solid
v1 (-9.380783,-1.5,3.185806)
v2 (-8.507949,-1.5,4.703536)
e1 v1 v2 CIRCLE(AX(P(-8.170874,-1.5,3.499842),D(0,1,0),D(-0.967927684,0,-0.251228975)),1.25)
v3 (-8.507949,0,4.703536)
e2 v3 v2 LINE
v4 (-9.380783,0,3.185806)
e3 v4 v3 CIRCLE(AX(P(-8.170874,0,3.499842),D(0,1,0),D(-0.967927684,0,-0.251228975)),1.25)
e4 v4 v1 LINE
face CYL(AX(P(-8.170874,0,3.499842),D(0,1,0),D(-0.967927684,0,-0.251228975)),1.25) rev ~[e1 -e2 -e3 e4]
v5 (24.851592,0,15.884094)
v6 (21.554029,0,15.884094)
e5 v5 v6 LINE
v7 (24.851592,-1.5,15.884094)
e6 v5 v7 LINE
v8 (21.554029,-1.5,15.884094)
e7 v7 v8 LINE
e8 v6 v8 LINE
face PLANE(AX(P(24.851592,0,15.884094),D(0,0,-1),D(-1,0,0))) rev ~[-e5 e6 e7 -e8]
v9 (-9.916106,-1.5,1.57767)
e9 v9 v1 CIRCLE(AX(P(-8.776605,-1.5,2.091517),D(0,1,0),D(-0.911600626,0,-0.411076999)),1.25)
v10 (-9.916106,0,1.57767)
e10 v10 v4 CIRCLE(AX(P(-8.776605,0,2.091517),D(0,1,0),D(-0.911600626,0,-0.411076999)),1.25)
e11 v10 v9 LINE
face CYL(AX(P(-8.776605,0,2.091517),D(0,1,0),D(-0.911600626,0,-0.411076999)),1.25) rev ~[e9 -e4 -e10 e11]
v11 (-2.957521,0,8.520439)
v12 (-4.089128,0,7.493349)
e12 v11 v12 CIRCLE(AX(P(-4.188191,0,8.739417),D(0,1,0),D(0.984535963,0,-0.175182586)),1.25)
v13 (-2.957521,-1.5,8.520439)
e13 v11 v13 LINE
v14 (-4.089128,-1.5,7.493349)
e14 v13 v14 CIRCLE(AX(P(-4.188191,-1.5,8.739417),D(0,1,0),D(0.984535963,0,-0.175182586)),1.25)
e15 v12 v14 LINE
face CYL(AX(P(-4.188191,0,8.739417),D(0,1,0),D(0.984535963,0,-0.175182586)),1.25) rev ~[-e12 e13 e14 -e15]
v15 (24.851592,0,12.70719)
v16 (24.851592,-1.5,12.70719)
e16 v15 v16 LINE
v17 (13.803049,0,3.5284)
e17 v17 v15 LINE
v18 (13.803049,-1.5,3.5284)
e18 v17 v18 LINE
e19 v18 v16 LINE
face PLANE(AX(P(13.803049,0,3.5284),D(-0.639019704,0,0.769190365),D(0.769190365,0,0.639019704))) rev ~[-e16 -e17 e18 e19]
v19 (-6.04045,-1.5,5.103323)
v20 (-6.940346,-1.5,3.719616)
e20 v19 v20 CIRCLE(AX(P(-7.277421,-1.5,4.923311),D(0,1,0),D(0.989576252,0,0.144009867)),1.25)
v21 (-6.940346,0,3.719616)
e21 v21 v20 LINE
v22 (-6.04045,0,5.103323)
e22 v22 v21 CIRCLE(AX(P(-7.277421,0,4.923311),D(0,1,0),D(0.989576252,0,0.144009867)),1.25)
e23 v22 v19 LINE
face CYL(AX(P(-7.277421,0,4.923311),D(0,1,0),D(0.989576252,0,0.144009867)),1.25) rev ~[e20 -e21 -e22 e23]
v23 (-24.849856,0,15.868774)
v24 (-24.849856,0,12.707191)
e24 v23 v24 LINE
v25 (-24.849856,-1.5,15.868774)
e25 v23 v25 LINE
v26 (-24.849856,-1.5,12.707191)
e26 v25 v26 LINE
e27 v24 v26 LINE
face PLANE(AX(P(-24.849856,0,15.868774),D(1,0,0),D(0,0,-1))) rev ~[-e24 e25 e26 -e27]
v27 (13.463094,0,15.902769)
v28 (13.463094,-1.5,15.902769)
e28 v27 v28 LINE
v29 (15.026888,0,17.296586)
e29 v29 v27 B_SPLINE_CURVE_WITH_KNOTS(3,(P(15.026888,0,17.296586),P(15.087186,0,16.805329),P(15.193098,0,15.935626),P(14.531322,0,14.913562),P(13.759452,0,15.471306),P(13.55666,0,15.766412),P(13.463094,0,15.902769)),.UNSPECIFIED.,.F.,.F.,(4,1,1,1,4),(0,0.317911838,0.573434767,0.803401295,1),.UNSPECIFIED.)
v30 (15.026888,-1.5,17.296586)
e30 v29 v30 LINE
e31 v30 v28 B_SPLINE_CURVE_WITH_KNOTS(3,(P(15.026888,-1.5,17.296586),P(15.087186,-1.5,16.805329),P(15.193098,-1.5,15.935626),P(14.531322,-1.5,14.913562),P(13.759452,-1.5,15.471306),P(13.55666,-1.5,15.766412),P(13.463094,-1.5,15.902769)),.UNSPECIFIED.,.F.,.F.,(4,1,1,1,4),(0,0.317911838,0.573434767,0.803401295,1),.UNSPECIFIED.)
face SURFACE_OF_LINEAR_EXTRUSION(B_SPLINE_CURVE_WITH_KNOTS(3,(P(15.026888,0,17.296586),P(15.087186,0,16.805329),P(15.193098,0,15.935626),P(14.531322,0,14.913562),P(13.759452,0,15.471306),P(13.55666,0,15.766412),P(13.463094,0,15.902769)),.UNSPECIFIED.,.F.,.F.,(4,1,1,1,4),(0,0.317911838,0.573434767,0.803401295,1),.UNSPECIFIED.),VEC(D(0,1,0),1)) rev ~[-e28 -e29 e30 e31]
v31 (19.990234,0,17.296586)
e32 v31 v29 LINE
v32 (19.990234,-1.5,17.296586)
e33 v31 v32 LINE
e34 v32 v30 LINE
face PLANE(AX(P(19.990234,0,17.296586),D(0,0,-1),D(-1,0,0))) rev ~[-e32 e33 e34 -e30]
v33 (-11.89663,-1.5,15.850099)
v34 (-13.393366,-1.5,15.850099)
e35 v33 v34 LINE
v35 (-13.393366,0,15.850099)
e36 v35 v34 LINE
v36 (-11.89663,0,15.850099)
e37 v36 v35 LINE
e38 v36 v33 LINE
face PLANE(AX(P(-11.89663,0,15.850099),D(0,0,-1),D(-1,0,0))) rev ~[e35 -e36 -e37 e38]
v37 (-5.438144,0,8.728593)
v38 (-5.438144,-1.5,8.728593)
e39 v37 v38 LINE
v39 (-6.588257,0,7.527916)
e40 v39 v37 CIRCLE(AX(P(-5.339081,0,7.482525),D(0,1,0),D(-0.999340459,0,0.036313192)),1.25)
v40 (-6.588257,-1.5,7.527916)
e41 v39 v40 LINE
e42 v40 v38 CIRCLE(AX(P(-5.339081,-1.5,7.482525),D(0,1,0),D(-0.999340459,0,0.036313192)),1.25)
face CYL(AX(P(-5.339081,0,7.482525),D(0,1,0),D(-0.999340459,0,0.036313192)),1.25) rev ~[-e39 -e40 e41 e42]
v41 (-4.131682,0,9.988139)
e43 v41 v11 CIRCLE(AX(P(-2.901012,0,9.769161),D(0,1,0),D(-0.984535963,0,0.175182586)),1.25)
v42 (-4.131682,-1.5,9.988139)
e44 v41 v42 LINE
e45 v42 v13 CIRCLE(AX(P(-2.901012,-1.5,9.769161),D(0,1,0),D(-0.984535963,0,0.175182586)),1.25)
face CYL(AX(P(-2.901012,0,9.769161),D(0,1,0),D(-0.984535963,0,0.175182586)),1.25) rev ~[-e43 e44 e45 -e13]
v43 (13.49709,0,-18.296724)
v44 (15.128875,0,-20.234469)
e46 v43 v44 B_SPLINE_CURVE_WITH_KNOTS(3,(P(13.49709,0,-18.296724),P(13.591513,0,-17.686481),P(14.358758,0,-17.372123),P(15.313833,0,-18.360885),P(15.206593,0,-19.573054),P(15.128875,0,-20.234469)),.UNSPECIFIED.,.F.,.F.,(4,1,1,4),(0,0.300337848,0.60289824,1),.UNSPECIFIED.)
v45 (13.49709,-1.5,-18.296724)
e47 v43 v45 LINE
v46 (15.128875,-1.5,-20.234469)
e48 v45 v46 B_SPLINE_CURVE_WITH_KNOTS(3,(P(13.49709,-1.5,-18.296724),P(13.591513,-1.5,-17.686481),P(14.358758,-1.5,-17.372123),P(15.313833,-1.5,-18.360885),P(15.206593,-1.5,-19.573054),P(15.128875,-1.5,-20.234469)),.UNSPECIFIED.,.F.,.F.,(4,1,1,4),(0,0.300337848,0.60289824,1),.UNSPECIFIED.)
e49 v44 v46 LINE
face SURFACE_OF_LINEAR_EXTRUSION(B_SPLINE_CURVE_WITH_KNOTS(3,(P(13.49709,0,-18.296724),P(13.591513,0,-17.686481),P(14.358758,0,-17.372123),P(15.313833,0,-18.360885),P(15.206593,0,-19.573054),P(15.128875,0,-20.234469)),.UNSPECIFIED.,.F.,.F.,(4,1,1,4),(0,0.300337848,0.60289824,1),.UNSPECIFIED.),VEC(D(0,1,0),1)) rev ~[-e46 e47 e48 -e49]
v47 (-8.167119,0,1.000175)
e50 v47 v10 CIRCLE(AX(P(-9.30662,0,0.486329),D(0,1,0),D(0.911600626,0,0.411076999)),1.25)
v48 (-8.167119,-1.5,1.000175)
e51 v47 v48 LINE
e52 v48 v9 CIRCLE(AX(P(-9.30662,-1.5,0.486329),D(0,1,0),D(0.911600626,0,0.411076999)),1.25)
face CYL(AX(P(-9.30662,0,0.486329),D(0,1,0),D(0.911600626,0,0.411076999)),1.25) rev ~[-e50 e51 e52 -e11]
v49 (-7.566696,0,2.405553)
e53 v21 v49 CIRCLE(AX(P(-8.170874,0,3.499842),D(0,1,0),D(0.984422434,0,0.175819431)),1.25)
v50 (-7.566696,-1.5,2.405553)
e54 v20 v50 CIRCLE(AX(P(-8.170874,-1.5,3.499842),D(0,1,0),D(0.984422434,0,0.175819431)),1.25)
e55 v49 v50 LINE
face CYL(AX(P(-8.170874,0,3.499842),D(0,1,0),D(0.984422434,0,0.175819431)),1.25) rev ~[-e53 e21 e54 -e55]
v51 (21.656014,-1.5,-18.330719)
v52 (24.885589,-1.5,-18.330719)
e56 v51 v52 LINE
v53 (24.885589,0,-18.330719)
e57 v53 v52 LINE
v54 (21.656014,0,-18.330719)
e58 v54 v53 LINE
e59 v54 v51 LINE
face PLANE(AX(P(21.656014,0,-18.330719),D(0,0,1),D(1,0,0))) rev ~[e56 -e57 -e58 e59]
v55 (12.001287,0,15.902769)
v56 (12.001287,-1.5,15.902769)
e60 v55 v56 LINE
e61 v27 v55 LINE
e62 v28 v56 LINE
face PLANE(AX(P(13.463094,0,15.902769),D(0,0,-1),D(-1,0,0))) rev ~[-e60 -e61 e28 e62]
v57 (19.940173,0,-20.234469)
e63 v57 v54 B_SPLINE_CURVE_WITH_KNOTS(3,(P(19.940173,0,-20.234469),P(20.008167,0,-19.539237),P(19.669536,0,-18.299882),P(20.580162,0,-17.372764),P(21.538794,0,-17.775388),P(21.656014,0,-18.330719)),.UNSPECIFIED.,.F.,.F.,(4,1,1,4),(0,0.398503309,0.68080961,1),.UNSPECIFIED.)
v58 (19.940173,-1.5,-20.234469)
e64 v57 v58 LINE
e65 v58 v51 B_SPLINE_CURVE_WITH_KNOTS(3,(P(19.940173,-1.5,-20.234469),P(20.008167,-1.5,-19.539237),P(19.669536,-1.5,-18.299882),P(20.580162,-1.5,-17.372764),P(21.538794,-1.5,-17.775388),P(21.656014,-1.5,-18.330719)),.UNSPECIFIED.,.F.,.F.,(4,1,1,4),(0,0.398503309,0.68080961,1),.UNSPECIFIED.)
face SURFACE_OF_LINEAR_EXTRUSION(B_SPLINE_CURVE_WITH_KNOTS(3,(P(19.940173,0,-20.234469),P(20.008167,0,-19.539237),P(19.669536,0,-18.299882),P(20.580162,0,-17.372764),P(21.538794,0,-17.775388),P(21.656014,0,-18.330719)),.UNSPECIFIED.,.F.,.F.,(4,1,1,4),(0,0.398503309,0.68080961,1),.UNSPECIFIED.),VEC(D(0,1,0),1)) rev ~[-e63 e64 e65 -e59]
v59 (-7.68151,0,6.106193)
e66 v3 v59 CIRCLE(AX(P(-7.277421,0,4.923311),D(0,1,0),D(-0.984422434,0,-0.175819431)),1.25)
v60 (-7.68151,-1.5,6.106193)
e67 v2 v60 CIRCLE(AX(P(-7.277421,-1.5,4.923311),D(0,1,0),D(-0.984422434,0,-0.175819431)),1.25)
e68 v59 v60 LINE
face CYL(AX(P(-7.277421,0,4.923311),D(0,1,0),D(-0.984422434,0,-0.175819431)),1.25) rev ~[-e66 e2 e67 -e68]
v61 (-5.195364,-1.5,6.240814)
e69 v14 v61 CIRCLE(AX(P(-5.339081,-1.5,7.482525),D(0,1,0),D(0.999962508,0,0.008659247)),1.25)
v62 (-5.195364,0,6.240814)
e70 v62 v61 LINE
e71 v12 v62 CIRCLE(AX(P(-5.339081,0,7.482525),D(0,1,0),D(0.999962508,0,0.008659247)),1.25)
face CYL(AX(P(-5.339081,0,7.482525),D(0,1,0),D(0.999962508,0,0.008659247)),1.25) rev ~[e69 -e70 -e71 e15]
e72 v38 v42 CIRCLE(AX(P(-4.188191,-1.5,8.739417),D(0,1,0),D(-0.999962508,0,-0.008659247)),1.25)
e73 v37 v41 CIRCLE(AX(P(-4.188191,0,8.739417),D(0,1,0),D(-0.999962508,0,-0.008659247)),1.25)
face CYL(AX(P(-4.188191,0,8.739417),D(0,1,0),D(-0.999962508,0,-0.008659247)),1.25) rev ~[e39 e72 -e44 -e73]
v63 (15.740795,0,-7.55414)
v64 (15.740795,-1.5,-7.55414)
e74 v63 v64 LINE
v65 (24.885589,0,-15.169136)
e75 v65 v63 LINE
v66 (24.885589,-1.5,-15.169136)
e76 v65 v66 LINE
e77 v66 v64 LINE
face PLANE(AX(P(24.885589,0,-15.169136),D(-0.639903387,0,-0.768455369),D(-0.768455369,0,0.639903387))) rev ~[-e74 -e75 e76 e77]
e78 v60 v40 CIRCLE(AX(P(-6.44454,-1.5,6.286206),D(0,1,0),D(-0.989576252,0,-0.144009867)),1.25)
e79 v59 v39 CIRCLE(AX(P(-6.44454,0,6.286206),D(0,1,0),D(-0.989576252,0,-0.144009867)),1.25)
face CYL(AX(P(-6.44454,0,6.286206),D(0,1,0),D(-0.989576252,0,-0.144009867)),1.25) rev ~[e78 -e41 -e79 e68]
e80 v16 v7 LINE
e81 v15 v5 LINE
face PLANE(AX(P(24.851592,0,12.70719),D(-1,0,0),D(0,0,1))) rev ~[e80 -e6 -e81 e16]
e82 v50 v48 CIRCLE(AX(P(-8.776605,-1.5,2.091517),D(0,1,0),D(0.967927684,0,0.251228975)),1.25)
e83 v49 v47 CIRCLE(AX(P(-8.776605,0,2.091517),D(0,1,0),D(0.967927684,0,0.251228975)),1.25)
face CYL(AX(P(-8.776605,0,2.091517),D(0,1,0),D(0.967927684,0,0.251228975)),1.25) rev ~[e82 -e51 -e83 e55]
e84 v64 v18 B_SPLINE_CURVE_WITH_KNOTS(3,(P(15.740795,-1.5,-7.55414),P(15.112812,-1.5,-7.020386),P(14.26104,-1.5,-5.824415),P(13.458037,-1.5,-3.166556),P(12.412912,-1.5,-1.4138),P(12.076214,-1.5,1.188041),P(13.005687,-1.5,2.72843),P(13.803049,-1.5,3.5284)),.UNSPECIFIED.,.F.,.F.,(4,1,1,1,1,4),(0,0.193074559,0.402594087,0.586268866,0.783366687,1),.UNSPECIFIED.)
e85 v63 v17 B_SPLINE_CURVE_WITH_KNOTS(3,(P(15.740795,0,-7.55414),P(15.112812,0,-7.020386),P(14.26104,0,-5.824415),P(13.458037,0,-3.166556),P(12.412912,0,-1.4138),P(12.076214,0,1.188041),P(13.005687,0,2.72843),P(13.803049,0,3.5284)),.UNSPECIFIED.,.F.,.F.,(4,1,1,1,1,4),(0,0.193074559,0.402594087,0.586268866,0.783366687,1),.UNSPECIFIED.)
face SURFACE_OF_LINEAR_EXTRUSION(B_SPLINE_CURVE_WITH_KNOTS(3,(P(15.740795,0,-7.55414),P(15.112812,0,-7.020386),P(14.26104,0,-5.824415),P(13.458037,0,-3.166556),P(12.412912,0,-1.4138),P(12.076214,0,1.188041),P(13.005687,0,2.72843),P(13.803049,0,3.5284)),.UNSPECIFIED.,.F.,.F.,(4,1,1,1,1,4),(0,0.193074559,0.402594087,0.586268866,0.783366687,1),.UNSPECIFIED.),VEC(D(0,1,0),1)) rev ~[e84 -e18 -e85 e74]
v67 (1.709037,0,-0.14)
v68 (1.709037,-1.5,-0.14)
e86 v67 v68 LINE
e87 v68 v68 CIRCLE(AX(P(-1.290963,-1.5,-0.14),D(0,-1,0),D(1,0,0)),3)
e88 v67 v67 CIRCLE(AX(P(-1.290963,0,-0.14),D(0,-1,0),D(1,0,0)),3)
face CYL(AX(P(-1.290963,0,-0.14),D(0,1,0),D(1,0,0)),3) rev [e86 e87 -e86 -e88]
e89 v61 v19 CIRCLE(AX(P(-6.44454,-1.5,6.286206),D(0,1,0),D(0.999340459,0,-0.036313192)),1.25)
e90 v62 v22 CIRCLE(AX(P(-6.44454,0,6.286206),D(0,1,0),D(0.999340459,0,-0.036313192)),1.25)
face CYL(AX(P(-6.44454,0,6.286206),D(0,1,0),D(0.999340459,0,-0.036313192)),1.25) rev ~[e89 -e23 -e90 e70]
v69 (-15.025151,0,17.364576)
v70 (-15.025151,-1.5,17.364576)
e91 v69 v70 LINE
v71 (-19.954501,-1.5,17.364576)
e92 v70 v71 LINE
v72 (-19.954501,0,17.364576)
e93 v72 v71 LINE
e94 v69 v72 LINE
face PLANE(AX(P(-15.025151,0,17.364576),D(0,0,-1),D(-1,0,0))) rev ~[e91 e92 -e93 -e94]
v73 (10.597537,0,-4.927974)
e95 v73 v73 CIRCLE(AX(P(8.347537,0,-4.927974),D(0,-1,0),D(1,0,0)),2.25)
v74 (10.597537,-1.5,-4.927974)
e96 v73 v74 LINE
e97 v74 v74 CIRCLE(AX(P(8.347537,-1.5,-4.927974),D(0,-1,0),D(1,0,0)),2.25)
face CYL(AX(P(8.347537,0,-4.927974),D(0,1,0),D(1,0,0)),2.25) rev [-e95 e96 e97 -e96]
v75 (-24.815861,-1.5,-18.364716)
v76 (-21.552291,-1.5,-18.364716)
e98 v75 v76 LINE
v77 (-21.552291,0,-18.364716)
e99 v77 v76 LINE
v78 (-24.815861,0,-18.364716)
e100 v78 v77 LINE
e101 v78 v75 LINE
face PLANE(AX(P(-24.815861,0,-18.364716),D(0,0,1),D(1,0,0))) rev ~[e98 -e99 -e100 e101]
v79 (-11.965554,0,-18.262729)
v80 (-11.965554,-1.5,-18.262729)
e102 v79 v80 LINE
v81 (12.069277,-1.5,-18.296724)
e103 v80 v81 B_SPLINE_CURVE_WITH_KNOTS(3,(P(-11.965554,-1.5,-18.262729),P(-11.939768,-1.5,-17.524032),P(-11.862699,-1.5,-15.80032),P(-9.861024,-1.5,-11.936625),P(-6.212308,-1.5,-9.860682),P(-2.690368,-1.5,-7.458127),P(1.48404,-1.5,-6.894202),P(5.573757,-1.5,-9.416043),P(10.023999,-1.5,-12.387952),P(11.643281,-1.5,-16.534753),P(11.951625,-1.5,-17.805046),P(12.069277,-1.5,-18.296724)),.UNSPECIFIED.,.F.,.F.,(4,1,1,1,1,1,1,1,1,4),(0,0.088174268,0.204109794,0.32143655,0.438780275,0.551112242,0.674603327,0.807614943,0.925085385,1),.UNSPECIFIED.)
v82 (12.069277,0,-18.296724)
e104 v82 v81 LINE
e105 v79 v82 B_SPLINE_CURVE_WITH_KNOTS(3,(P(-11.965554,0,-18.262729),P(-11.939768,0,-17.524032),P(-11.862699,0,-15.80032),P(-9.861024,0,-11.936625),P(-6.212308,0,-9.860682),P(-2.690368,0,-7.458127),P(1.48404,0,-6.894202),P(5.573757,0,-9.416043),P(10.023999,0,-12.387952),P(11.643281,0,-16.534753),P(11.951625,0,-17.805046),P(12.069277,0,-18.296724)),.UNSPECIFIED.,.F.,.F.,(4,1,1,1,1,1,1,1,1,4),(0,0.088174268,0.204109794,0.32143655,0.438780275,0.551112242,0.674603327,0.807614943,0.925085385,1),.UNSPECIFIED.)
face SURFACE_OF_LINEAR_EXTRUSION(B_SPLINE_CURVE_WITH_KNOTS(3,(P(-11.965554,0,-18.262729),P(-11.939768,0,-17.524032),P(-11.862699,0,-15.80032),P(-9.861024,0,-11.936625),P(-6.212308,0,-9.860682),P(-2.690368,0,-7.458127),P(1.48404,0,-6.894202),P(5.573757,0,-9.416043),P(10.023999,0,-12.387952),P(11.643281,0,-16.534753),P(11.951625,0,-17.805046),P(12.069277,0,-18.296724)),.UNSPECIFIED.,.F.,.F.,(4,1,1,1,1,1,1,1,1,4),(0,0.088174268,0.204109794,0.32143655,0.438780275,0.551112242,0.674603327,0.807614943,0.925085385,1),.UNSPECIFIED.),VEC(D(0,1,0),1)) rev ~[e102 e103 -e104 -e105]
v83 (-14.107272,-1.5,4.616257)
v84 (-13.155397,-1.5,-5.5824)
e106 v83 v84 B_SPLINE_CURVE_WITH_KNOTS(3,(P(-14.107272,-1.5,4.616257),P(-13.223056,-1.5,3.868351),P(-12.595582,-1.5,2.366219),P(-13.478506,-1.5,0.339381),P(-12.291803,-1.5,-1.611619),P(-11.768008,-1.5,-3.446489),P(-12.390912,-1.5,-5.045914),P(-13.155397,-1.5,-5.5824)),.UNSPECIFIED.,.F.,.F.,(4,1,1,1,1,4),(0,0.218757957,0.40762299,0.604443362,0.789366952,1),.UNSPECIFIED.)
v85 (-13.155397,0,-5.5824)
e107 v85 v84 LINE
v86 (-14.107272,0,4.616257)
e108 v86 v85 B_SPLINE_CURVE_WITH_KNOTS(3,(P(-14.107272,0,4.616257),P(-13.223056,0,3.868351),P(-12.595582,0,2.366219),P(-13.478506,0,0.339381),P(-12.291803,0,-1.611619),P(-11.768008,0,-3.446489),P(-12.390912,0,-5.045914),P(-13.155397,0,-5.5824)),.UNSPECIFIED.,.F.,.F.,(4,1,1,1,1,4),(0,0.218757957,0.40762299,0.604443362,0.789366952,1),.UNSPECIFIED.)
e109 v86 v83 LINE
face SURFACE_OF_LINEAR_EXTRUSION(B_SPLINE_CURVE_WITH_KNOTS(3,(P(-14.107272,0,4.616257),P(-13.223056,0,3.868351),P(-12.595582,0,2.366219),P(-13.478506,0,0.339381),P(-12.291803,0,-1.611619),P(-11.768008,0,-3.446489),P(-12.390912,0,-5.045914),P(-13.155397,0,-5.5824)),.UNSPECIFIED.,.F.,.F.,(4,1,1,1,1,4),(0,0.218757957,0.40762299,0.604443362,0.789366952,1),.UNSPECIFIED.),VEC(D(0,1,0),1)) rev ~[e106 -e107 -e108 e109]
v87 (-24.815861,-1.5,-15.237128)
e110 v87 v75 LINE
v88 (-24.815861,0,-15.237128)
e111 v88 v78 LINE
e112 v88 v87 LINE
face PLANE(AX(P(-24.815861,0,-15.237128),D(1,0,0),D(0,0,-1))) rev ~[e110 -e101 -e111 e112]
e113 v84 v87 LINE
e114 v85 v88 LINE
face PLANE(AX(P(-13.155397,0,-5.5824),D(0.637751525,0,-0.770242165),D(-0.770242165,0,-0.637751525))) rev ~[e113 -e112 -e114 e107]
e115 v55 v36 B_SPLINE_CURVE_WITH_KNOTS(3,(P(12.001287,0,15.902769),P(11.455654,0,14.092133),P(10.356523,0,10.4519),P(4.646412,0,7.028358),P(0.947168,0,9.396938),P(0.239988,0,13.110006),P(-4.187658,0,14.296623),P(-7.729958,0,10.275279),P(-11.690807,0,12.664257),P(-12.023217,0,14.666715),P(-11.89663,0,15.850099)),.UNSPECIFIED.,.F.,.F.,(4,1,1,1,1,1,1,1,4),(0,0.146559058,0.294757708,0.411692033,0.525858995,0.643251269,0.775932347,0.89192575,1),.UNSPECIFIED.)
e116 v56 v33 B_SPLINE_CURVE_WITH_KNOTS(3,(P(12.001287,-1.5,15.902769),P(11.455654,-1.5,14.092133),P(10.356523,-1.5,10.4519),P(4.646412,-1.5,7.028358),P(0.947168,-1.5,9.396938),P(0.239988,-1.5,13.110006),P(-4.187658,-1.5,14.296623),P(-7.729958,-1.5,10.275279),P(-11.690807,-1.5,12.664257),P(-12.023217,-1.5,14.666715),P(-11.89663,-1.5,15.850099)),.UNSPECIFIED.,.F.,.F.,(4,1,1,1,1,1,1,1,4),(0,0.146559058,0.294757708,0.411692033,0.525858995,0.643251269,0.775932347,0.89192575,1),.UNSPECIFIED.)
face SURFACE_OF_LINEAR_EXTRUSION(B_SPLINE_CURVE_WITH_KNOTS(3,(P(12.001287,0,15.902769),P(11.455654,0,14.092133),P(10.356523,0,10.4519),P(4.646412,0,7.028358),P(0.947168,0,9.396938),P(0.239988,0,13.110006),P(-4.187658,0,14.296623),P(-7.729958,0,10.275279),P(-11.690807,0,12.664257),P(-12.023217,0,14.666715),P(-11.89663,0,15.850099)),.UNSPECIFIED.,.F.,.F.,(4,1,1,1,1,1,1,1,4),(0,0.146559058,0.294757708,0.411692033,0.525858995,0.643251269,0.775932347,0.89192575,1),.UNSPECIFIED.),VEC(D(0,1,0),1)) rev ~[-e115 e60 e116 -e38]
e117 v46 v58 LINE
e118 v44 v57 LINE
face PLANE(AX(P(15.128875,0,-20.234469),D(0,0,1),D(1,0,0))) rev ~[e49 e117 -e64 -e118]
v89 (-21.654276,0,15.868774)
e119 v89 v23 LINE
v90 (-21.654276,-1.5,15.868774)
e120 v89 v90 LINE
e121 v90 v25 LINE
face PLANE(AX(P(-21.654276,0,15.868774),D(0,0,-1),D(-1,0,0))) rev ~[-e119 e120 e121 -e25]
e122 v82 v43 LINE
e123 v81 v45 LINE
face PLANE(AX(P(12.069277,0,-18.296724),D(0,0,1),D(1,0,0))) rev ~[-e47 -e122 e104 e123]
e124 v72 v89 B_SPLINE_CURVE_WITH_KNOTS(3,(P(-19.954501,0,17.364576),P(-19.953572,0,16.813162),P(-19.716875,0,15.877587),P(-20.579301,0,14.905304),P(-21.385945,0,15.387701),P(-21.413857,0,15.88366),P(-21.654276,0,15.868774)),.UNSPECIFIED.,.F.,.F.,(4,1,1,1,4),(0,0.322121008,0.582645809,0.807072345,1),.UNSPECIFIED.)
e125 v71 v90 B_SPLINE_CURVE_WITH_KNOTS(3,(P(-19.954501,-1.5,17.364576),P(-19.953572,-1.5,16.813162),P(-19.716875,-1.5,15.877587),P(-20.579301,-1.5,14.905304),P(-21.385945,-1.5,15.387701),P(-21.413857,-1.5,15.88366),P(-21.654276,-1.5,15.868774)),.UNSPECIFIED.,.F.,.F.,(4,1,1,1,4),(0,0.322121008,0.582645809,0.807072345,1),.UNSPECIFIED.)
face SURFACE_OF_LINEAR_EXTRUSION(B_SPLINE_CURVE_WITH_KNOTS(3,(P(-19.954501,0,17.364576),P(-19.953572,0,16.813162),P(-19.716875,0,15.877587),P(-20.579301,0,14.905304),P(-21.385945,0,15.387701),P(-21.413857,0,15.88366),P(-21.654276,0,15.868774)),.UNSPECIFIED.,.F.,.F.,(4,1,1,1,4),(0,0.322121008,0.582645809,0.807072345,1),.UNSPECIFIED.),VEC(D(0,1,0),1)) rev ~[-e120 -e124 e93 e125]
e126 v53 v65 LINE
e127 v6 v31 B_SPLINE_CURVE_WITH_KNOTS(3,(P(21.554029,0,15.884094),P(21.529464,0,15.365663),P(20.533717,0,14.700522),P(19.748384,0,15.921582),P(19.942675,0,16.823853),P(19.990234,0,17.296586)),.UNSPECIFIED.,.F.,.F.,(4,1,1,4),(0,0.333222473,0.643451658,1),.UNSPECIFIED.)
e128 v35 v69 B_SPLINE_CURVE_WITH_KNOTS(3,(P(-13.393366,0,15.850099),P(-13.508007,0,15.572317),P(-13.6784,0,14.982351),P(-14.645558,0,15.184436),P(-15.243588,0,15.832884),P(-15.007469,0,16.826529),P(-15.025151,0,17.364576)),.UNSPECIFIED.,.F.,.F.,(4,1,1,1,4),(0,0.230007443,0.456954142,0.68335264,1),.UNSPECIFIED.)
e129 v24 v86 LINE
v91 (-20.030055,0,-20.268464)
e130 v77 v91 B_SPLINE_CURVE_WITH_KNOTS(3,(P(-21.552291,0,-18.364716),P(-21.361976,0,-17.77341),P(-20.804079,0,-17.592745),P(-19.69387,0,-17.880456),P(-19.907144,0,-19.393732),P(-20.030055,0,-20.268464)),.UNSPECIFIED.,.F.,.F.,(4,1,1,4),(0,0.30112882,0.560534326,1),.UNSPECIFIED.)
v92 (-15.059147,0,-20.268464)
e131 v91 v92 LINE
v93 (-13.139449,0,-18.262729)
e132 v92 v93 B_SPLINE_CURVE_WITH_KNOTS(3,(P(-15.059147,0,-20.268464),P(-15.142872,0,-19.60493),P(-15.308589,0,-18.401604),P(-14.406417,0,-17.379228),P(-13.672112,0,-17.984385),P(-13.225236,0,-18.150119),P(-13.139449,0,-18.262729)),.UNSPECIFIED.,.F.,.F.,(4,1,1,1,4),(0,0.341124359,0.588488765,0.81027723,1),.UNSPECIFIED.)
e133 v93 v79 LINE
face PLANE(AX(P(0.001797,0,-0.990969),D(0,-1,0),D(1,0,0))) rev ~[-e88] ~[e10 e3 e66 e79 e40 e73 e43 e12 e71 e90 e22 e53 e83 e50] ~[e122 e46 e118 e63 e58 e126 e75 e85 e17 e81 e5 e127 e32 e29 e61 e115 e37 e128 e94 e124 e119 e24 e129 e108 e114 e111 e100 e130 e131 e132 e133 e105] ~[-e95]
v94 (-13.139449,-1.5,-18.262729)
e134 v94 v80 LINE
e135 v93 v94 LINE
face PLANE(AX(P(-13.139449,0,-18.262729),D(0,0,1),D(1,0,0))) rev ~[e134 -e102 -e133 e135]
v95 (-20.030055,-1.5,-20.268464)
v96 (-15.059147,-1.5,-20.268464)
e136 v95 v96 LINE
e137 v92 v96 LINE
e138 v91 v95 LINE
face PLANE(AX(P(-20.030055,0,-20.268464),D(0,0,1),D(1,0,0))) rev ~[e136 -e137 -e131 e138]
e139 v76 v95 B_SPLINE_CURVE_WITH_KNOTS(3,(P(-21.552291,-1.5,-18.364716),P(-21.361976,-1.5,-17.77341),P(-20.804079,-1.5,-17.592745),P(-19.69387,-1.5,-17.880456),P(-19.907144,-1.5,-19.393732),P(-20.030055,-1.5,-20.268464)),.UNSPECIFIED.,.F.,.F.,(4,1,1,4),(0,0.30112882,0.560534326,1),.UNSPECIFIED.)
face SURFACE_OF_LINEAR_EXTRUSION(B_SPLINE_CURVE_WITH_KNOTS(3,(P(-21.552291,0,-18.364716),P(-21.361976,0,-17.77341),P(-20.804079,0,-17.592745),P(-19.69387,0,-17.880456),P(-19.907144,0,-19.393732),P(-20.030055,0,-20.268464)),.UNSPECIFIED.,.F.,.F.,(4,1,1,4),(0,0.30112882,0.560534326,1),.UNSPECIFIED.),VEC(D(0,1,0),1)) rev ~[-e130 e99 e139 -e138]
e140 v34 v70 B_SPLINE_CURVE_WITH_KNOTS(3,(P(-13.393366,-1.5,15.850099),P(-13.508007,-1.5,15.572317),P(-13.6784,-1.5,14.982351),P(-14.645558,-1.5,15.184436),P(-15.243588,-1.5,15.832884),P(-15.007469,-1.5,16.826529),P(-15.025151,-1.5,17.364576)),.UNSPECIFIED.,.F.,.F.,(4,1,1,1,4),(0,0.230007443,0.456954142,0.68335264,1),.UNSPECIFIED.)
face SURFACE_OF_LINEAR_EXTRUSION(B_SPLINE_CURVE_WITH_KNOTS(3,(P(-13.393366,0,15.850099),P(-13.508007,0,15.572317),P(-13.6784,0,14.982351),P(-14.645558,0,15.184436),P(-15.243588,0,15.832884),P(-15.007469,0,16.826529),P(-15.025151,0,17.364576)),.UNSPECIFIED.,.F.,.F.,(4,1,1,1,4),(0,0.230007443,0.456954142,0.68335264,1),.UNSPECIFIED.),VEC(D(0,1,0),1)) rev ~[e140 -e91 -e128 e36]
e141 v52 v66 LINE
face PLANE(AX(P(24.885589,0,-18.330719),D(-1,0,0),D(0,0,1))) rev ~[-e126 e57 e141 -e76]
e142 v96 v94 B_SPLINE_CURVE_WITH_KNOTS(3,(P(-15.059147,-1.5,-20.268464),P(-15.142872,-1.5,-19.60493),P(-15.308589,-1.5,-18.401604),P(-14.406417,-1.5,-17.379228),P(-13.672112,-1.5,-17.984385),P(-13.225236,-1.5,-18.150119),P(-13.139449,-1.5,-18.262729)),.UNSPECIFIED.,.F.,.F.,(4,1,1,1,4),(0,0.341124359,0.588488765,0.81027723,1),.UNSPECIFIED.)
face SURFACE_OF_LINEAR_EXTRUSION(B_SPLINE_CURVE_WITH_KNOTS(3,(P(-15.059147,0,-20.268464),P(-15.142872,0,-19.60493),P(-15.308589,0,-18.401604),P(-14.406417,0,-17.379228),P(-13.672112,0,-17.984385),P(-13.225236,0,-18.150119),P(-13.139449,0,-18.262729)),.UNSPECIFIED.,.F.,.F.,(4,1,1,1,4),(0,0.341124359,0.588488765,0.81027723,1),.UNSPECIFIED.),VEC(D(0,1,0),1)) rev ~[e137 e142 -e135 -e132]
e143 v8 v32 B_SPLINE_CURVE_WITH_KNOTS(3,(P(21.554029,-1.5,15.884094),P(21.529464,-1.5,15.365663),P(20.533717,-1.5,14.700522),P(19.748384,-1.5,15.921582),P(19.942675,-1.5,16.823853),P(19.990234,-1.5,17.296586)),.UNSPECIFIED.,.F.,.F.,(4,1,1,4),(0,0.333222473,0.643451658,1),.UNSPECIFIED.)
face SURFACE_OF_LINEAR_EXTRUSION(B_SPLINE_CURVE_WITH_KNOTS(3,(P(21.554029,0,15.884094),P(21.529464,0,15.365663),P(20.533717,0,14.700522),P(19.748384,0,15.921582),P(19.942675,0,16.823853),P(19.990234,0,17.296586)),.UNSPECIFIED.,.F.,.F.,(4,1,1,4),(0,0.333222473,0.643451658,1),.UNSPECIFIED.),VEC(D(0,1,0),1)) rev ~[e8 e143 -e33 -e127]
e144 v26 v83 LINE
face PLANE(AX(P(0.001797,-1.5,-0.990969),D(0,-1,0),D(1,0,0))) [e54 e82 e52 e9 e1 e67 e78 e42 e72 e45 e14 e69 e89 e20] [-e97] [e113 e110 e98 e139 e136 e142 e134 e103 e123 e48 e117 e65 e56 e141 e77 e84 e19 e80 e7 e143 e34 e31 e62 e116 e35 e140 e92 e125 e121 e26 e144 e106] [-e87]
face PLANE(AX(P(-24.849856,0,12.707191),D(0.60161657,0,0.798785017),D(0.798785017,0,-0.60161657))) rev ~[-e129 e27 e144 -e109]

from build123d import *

# Parameters (mm, degrees)
F0_R     = 2.25
F0_R_2   = 3
F1_DEPTH = 1.5


with BuildPart() as f1:
    # F0 (on Front) → F1 (new body)
    with BuildSketch(Plane.XZ):
        with BuildLine():
            Line((-15.0251509622, 17.3645764589), (-19.9545007199, 17.3645764589))
            add(Edge.make_bspline(
                [(-19.9545007199, 17.3645764589), (-19.9535720667, 16.8131621824), (-19.7168747224, 15.8775874684), (-20.5793013029, 14.9053038169), (-21.3859451314, 15.3877012187), (-21.4138567556, 15.8836599543), (-21.6542761773, 15.8687736839)],
                knots=[0, 0, 0, 0, 0.3221210085, 0.5826458094, 0.8070723447, 1, 1, 1, 1], degree=3))
            Line((-21.6542761773, 15.8687736839), (-24.8498562723, 15.8687736839))
            Line((-24.8498562723, 15.8687736839), (-24.8498562723, 12.7071905881))
            Line((-24.8498562723, 12.7071905881), (-14.1072720289, 4.6162568033))
            add(Edge.make_bspline(
                [(-14.1072720289, 4.6162568033), (-13.2230557501, 3.8683512248), (-12.5955822995, 2.3662194197), (-13.4785055168, 0.3393812838), (-12.2918030886, -1.6116186172), (-11.7680076762, -3.4464893707), (-12.3909122816, -5.045914489), (-13.1553970277, -5.582400132)],
                knots=[0, 0, 0, 0, 0.218757957, 0.4076229901, 0.6044433625, 0.7893669519, 1, 1, 1, 1], degree=3))
            Line((-13.1553970277, -5.582400132), (-24.8158611357, -15.2371283621))
            Line((-24.8158611357, -15.2371283621), (-24.8158611357, -18.3647163212))
            Line((-24.8158611357, -18.3647163212), (-21.5522907674, -18.3647163212))
            add(Edge.make_bspline(
                [(-21.5522907674, -18.3647163212), (-21.3619760825, -17.7734100915), (-20.8040792236, -17.5927453525), (-19.6938703532, -17.8804564704), (-19.907143935, -19.3937320877), (-20.0300551951, -20.268464461)],
                knots=[0, 0, 0, 0, 0.3011288202, 0.5605343257, 1, 1, 1, 1], degree=3))
            Line((-20.0300551951, -20.268464461), (-15.0591470301, -20.268464461))
            add(Edge.make_bspline(
                [(-15.0591470301, -20.268464461), (-15.1428716699, -19.6049301593), (-15.3085890551, -18.4016039255), (-14.4064169123, -17.3792275229), (-13.6721117794, -17.9843845783), (-13.225236245, -18.15011929), (-13.13944906, -18.2627290487)],
                knots=[0, 0, 0, 0, 0.3411243592, 0.5884887653, 0.8102772301, 1, 1, 1, 1], degree=3))
            Line((-13.13944906, -18.2627290487), (-11.9655542076, -18.2627290487))
            add(Edge.make_bspline(
                [(-11.9655542076, -18.2627290487), (-11.9397683925, -17.5240316243), (-11.8626991056, -15.8003195677), (-9.8610237362, -11.9366248831), (-6.2123076845, -9.8606819162), (-2.6903679226, -7.4581272699), (1.4840396874, -6.8942017274), (5.573756912, -9.4160428559), (10.0239991277, -12.3879515301), (11.643280897, -16.5347525517), (11.951625046, -17.8050458649), (12.0692774653, -18.2967241853)],
                knots=[0, 0, 0, 0, 0.0881742675, 0.2041097942, 0.3214365501, 0.4387802752, 0.5511122415, 0.6746033273, 0.8076149426, 0.9250853853, 1, 1, 1, 1], degree=3))
            Line((12.0692774653, -18.2967241853), (13.4970899671, -18.2967241853))
            add(Edge.make_bspline(
                [(13.4970899671, -18.2967241853), (13.5915130377, -17.6864806563), (14.3587578575, -17.3721231317), (15.3138329986, -18.3608847172), (15.2065932408, -19.5730537285), (15.1288751513, -20.2344693244)],
                knots=[0, 0, 0, 0, 0.3003378478, 0.6028982403, 1, 1, 1, 1], degree=3))
            Line((15.1288751513, -20.2344693244), (19.9401732534, -20.2344693244))
            add(Edge.make_bspline(
                [(19.9401732534, -20.2344693244), (20.0081672519, -19.5392370224), (19.6695355791, -18.2998815741), (20.5801616594, -17.3727636932), (21.5387940949, -17.7753876825), (21.6560140252, -18.330719322)],
                knots=[0, 0, 0, 0, 0.3985033086, 0.6808096102, 1, 1, 1, 1], degree=3))
            Line((21.6560140252, -18.330719322), (24.8855892569, -18.330719322))
            Line((24.8855892569, -18.330719322), (24.8855892569, -15.1691362262))
            Line((24.8855892569, -15.1691362262), (15.740795061, -7.5541399419))
            add(Edge.make_bspline(
                [(15.740795061, -7.5541399419), (15.1128116995, -7.0203864016), (14.2610402716, -5.8244149317), (13.4580371253, -3.1665563837), (12.4129123892, -1.4137997358), (12.0762139335, 1.1880408243), (13.0056873075, 2.7284303364), (13.8030489907, 3.5283996258)],
                knots=[0, 0, 0, 0, 0.1930745588, 0.4025940869, 0.5862688664, 0.7833666871, 1, 1, 1, 1], degree=3))
            Line((13.8030489907, 3.5283996258), (24.8515922576, 12.7071896568))
            Line((24.8515922576, 12.7071896568), (24.8515922576, 15.8840939403))
            Line((24.8515922576, 15.8840939403), (21.5540286154, 15.8840939403))
            add(Edge.make_bspline(
                [(21.5540286154, 15.8840939403), (21.5294640511, 15.3656629846), (20.5337165196, 14.7005224714), (19.7483843758, 15.9215821187), (19.9426753933, 16.8238527236), (19.9902337044, 17.2965861857)],
                knots=[0, 0, 0, 0, 0.3332224732, 0.6434516576, 1, 1, 1, 1], degree=3))
            Line((19.9902337044, 17.2965861857), (15.0268878788, 17.2965861857))
            add(Edge.make_bspline(
                [(15.0268878788, 17.2965861857), (15.0871861527, 16.8053287766), (15.1930982311, 15.9356261141), (14.5313218028, 14.9135620801), (13.7594522103, 15.4713059835), (13.556660089, 15.766412366), (13.4630938992, 15.9027688205)],
                knots=[0, 0, 0, 0, 0.317911838, 0.5734347674, 0.8034012952, 1, 1, 1, 1], degree=3))
            Line((13.4630938992, 15.9027688205), (12.0012871921, 15.9027688205))
            add(Edge.make_bspline(
                [(12.0012871921, 15.9027688205), (11.4556535631, 14.0921326001), (10.3565226292, 10.4518996338), (4.6464120547, 7.0283579151), (0.9471679726, 9.3969384427), (0.2399883407, 13.1100056638), (-4.1876584296, 14.2966225813), (-7.7299584292, 10.2752792104), (-11.6908074285, 12.6642568786), (-12.0232174394, 14.6667154103), (-11.8966298178, 15.8500988036)],
                knots=[0, 0, 0, 0, 0.1465590584, 0.2947577084, 0.4116920328, 0.5258589953, 0.6432512693, 0.7759323474, 0.89192575, 1, 1, 1, 1], degree=3))
            Line((-11.8966298178, 15.8500988036), (-13.393365778, 15.8500988036))
            add(Edge.make_bspline(
                [(-13.393365778, 15.8500988036), (-13.5080072019, 15.5723166362), (-13.6784000772, 14.982350744), (-14.6455578559, 15.1844355392), (-15.2435875686, 15.8328844958), (-15.0074686052, 16.8265287767), (-15.0251509622, 17.3645764589)],
                knots=[0, 0, 0, 0, 0.2300074433, 0.4569541416, 0.68335264, 1, 1, 1, 1], degree=3))
        make_face()
        with Locations((8.3475373685, -4.9279744403)):
            Circle(F0_R, mode=Mode.SUBTRACT)
        with Locations((-1.290963497, -0.14)):
            Circle(F0_R_2, mode=Mode.SUBTRACT)
        with BuildLine():
            ThreePointArc((-4.131682264, 9.9881394641), (-1.9249265746, 10.5500303858), (-2.9575211924, 8.5204391866))
            ThreePointArc((-2.9575211924, 8.5204391866), (-3.3480862624, 7.8138236715), (-4.0891277985, 7.4933490205))
            ThreePointArc((-4.0891277985, 7.4933490205), (-4.4021766147, 6.6550527276), (-5.1953643016, 6.2408142342))
            ThreePointArc((-5.1953643016, 6.2408142342), (-5.4411491533, 5.5407481061), (-6.0404504072, 5.1033229308))
            ThreePointArc((-6.0404504072, 5.1033229308), (-6.2295343938, 4.2418164709), (-6.9403458161, 3.7196160722))
            ThreePointArc((-6.9403458161, 3.7196160722), (-7.0425000321, 2.9620011851), (-7.5666955237, 2.4055527262))
            ThreePointArc((-7.5666955237, 2.4055527262), (-7.6271174522, 1.600417658), (-8.1671190931, 1.0001747777))
            ThreePointArc((-8.1671190931, 1.0001747777), (-9.698543548, -0.7006406517), (-9.9161059112, 1.5776702586))
            ThreePointArc((-9.9161059112, 1.5776702586), (-9.962619044, 2.4863215154), (-9.3807834636, 3.1858055648))
            ThreePointArc((-9.3807834636, 3.1858055648), (-9.2544636888, 4.1230055487), (-8.5079487638, 4.7035363075))
            ThreePointArc((-8.5079487638, 4.7035363075), (-8.3543865167, 5.5578534847), (-7.6815101895, 6.1061933896))
            ThreePointArc((-7.6815101895, 6.1061933896), (-7.435447654, 7.0481780154), (-6.5882565067, 7.527916451))
            ThreePointArc((-6.5882565067, 7.527916451), (-6.241767649, 8.3471963981), (-5.4381442807, 8.7285933595))
            ThreePointArc((-5.4381442807, 8.7285933595), (-5.0557690349, 9.6393110826), (-4.131682264, 9.9881394641))
        make_face(mode=Mode.SUBTRACT)
    extrude(amount=F1_DEPTH)


solid = f1.part
